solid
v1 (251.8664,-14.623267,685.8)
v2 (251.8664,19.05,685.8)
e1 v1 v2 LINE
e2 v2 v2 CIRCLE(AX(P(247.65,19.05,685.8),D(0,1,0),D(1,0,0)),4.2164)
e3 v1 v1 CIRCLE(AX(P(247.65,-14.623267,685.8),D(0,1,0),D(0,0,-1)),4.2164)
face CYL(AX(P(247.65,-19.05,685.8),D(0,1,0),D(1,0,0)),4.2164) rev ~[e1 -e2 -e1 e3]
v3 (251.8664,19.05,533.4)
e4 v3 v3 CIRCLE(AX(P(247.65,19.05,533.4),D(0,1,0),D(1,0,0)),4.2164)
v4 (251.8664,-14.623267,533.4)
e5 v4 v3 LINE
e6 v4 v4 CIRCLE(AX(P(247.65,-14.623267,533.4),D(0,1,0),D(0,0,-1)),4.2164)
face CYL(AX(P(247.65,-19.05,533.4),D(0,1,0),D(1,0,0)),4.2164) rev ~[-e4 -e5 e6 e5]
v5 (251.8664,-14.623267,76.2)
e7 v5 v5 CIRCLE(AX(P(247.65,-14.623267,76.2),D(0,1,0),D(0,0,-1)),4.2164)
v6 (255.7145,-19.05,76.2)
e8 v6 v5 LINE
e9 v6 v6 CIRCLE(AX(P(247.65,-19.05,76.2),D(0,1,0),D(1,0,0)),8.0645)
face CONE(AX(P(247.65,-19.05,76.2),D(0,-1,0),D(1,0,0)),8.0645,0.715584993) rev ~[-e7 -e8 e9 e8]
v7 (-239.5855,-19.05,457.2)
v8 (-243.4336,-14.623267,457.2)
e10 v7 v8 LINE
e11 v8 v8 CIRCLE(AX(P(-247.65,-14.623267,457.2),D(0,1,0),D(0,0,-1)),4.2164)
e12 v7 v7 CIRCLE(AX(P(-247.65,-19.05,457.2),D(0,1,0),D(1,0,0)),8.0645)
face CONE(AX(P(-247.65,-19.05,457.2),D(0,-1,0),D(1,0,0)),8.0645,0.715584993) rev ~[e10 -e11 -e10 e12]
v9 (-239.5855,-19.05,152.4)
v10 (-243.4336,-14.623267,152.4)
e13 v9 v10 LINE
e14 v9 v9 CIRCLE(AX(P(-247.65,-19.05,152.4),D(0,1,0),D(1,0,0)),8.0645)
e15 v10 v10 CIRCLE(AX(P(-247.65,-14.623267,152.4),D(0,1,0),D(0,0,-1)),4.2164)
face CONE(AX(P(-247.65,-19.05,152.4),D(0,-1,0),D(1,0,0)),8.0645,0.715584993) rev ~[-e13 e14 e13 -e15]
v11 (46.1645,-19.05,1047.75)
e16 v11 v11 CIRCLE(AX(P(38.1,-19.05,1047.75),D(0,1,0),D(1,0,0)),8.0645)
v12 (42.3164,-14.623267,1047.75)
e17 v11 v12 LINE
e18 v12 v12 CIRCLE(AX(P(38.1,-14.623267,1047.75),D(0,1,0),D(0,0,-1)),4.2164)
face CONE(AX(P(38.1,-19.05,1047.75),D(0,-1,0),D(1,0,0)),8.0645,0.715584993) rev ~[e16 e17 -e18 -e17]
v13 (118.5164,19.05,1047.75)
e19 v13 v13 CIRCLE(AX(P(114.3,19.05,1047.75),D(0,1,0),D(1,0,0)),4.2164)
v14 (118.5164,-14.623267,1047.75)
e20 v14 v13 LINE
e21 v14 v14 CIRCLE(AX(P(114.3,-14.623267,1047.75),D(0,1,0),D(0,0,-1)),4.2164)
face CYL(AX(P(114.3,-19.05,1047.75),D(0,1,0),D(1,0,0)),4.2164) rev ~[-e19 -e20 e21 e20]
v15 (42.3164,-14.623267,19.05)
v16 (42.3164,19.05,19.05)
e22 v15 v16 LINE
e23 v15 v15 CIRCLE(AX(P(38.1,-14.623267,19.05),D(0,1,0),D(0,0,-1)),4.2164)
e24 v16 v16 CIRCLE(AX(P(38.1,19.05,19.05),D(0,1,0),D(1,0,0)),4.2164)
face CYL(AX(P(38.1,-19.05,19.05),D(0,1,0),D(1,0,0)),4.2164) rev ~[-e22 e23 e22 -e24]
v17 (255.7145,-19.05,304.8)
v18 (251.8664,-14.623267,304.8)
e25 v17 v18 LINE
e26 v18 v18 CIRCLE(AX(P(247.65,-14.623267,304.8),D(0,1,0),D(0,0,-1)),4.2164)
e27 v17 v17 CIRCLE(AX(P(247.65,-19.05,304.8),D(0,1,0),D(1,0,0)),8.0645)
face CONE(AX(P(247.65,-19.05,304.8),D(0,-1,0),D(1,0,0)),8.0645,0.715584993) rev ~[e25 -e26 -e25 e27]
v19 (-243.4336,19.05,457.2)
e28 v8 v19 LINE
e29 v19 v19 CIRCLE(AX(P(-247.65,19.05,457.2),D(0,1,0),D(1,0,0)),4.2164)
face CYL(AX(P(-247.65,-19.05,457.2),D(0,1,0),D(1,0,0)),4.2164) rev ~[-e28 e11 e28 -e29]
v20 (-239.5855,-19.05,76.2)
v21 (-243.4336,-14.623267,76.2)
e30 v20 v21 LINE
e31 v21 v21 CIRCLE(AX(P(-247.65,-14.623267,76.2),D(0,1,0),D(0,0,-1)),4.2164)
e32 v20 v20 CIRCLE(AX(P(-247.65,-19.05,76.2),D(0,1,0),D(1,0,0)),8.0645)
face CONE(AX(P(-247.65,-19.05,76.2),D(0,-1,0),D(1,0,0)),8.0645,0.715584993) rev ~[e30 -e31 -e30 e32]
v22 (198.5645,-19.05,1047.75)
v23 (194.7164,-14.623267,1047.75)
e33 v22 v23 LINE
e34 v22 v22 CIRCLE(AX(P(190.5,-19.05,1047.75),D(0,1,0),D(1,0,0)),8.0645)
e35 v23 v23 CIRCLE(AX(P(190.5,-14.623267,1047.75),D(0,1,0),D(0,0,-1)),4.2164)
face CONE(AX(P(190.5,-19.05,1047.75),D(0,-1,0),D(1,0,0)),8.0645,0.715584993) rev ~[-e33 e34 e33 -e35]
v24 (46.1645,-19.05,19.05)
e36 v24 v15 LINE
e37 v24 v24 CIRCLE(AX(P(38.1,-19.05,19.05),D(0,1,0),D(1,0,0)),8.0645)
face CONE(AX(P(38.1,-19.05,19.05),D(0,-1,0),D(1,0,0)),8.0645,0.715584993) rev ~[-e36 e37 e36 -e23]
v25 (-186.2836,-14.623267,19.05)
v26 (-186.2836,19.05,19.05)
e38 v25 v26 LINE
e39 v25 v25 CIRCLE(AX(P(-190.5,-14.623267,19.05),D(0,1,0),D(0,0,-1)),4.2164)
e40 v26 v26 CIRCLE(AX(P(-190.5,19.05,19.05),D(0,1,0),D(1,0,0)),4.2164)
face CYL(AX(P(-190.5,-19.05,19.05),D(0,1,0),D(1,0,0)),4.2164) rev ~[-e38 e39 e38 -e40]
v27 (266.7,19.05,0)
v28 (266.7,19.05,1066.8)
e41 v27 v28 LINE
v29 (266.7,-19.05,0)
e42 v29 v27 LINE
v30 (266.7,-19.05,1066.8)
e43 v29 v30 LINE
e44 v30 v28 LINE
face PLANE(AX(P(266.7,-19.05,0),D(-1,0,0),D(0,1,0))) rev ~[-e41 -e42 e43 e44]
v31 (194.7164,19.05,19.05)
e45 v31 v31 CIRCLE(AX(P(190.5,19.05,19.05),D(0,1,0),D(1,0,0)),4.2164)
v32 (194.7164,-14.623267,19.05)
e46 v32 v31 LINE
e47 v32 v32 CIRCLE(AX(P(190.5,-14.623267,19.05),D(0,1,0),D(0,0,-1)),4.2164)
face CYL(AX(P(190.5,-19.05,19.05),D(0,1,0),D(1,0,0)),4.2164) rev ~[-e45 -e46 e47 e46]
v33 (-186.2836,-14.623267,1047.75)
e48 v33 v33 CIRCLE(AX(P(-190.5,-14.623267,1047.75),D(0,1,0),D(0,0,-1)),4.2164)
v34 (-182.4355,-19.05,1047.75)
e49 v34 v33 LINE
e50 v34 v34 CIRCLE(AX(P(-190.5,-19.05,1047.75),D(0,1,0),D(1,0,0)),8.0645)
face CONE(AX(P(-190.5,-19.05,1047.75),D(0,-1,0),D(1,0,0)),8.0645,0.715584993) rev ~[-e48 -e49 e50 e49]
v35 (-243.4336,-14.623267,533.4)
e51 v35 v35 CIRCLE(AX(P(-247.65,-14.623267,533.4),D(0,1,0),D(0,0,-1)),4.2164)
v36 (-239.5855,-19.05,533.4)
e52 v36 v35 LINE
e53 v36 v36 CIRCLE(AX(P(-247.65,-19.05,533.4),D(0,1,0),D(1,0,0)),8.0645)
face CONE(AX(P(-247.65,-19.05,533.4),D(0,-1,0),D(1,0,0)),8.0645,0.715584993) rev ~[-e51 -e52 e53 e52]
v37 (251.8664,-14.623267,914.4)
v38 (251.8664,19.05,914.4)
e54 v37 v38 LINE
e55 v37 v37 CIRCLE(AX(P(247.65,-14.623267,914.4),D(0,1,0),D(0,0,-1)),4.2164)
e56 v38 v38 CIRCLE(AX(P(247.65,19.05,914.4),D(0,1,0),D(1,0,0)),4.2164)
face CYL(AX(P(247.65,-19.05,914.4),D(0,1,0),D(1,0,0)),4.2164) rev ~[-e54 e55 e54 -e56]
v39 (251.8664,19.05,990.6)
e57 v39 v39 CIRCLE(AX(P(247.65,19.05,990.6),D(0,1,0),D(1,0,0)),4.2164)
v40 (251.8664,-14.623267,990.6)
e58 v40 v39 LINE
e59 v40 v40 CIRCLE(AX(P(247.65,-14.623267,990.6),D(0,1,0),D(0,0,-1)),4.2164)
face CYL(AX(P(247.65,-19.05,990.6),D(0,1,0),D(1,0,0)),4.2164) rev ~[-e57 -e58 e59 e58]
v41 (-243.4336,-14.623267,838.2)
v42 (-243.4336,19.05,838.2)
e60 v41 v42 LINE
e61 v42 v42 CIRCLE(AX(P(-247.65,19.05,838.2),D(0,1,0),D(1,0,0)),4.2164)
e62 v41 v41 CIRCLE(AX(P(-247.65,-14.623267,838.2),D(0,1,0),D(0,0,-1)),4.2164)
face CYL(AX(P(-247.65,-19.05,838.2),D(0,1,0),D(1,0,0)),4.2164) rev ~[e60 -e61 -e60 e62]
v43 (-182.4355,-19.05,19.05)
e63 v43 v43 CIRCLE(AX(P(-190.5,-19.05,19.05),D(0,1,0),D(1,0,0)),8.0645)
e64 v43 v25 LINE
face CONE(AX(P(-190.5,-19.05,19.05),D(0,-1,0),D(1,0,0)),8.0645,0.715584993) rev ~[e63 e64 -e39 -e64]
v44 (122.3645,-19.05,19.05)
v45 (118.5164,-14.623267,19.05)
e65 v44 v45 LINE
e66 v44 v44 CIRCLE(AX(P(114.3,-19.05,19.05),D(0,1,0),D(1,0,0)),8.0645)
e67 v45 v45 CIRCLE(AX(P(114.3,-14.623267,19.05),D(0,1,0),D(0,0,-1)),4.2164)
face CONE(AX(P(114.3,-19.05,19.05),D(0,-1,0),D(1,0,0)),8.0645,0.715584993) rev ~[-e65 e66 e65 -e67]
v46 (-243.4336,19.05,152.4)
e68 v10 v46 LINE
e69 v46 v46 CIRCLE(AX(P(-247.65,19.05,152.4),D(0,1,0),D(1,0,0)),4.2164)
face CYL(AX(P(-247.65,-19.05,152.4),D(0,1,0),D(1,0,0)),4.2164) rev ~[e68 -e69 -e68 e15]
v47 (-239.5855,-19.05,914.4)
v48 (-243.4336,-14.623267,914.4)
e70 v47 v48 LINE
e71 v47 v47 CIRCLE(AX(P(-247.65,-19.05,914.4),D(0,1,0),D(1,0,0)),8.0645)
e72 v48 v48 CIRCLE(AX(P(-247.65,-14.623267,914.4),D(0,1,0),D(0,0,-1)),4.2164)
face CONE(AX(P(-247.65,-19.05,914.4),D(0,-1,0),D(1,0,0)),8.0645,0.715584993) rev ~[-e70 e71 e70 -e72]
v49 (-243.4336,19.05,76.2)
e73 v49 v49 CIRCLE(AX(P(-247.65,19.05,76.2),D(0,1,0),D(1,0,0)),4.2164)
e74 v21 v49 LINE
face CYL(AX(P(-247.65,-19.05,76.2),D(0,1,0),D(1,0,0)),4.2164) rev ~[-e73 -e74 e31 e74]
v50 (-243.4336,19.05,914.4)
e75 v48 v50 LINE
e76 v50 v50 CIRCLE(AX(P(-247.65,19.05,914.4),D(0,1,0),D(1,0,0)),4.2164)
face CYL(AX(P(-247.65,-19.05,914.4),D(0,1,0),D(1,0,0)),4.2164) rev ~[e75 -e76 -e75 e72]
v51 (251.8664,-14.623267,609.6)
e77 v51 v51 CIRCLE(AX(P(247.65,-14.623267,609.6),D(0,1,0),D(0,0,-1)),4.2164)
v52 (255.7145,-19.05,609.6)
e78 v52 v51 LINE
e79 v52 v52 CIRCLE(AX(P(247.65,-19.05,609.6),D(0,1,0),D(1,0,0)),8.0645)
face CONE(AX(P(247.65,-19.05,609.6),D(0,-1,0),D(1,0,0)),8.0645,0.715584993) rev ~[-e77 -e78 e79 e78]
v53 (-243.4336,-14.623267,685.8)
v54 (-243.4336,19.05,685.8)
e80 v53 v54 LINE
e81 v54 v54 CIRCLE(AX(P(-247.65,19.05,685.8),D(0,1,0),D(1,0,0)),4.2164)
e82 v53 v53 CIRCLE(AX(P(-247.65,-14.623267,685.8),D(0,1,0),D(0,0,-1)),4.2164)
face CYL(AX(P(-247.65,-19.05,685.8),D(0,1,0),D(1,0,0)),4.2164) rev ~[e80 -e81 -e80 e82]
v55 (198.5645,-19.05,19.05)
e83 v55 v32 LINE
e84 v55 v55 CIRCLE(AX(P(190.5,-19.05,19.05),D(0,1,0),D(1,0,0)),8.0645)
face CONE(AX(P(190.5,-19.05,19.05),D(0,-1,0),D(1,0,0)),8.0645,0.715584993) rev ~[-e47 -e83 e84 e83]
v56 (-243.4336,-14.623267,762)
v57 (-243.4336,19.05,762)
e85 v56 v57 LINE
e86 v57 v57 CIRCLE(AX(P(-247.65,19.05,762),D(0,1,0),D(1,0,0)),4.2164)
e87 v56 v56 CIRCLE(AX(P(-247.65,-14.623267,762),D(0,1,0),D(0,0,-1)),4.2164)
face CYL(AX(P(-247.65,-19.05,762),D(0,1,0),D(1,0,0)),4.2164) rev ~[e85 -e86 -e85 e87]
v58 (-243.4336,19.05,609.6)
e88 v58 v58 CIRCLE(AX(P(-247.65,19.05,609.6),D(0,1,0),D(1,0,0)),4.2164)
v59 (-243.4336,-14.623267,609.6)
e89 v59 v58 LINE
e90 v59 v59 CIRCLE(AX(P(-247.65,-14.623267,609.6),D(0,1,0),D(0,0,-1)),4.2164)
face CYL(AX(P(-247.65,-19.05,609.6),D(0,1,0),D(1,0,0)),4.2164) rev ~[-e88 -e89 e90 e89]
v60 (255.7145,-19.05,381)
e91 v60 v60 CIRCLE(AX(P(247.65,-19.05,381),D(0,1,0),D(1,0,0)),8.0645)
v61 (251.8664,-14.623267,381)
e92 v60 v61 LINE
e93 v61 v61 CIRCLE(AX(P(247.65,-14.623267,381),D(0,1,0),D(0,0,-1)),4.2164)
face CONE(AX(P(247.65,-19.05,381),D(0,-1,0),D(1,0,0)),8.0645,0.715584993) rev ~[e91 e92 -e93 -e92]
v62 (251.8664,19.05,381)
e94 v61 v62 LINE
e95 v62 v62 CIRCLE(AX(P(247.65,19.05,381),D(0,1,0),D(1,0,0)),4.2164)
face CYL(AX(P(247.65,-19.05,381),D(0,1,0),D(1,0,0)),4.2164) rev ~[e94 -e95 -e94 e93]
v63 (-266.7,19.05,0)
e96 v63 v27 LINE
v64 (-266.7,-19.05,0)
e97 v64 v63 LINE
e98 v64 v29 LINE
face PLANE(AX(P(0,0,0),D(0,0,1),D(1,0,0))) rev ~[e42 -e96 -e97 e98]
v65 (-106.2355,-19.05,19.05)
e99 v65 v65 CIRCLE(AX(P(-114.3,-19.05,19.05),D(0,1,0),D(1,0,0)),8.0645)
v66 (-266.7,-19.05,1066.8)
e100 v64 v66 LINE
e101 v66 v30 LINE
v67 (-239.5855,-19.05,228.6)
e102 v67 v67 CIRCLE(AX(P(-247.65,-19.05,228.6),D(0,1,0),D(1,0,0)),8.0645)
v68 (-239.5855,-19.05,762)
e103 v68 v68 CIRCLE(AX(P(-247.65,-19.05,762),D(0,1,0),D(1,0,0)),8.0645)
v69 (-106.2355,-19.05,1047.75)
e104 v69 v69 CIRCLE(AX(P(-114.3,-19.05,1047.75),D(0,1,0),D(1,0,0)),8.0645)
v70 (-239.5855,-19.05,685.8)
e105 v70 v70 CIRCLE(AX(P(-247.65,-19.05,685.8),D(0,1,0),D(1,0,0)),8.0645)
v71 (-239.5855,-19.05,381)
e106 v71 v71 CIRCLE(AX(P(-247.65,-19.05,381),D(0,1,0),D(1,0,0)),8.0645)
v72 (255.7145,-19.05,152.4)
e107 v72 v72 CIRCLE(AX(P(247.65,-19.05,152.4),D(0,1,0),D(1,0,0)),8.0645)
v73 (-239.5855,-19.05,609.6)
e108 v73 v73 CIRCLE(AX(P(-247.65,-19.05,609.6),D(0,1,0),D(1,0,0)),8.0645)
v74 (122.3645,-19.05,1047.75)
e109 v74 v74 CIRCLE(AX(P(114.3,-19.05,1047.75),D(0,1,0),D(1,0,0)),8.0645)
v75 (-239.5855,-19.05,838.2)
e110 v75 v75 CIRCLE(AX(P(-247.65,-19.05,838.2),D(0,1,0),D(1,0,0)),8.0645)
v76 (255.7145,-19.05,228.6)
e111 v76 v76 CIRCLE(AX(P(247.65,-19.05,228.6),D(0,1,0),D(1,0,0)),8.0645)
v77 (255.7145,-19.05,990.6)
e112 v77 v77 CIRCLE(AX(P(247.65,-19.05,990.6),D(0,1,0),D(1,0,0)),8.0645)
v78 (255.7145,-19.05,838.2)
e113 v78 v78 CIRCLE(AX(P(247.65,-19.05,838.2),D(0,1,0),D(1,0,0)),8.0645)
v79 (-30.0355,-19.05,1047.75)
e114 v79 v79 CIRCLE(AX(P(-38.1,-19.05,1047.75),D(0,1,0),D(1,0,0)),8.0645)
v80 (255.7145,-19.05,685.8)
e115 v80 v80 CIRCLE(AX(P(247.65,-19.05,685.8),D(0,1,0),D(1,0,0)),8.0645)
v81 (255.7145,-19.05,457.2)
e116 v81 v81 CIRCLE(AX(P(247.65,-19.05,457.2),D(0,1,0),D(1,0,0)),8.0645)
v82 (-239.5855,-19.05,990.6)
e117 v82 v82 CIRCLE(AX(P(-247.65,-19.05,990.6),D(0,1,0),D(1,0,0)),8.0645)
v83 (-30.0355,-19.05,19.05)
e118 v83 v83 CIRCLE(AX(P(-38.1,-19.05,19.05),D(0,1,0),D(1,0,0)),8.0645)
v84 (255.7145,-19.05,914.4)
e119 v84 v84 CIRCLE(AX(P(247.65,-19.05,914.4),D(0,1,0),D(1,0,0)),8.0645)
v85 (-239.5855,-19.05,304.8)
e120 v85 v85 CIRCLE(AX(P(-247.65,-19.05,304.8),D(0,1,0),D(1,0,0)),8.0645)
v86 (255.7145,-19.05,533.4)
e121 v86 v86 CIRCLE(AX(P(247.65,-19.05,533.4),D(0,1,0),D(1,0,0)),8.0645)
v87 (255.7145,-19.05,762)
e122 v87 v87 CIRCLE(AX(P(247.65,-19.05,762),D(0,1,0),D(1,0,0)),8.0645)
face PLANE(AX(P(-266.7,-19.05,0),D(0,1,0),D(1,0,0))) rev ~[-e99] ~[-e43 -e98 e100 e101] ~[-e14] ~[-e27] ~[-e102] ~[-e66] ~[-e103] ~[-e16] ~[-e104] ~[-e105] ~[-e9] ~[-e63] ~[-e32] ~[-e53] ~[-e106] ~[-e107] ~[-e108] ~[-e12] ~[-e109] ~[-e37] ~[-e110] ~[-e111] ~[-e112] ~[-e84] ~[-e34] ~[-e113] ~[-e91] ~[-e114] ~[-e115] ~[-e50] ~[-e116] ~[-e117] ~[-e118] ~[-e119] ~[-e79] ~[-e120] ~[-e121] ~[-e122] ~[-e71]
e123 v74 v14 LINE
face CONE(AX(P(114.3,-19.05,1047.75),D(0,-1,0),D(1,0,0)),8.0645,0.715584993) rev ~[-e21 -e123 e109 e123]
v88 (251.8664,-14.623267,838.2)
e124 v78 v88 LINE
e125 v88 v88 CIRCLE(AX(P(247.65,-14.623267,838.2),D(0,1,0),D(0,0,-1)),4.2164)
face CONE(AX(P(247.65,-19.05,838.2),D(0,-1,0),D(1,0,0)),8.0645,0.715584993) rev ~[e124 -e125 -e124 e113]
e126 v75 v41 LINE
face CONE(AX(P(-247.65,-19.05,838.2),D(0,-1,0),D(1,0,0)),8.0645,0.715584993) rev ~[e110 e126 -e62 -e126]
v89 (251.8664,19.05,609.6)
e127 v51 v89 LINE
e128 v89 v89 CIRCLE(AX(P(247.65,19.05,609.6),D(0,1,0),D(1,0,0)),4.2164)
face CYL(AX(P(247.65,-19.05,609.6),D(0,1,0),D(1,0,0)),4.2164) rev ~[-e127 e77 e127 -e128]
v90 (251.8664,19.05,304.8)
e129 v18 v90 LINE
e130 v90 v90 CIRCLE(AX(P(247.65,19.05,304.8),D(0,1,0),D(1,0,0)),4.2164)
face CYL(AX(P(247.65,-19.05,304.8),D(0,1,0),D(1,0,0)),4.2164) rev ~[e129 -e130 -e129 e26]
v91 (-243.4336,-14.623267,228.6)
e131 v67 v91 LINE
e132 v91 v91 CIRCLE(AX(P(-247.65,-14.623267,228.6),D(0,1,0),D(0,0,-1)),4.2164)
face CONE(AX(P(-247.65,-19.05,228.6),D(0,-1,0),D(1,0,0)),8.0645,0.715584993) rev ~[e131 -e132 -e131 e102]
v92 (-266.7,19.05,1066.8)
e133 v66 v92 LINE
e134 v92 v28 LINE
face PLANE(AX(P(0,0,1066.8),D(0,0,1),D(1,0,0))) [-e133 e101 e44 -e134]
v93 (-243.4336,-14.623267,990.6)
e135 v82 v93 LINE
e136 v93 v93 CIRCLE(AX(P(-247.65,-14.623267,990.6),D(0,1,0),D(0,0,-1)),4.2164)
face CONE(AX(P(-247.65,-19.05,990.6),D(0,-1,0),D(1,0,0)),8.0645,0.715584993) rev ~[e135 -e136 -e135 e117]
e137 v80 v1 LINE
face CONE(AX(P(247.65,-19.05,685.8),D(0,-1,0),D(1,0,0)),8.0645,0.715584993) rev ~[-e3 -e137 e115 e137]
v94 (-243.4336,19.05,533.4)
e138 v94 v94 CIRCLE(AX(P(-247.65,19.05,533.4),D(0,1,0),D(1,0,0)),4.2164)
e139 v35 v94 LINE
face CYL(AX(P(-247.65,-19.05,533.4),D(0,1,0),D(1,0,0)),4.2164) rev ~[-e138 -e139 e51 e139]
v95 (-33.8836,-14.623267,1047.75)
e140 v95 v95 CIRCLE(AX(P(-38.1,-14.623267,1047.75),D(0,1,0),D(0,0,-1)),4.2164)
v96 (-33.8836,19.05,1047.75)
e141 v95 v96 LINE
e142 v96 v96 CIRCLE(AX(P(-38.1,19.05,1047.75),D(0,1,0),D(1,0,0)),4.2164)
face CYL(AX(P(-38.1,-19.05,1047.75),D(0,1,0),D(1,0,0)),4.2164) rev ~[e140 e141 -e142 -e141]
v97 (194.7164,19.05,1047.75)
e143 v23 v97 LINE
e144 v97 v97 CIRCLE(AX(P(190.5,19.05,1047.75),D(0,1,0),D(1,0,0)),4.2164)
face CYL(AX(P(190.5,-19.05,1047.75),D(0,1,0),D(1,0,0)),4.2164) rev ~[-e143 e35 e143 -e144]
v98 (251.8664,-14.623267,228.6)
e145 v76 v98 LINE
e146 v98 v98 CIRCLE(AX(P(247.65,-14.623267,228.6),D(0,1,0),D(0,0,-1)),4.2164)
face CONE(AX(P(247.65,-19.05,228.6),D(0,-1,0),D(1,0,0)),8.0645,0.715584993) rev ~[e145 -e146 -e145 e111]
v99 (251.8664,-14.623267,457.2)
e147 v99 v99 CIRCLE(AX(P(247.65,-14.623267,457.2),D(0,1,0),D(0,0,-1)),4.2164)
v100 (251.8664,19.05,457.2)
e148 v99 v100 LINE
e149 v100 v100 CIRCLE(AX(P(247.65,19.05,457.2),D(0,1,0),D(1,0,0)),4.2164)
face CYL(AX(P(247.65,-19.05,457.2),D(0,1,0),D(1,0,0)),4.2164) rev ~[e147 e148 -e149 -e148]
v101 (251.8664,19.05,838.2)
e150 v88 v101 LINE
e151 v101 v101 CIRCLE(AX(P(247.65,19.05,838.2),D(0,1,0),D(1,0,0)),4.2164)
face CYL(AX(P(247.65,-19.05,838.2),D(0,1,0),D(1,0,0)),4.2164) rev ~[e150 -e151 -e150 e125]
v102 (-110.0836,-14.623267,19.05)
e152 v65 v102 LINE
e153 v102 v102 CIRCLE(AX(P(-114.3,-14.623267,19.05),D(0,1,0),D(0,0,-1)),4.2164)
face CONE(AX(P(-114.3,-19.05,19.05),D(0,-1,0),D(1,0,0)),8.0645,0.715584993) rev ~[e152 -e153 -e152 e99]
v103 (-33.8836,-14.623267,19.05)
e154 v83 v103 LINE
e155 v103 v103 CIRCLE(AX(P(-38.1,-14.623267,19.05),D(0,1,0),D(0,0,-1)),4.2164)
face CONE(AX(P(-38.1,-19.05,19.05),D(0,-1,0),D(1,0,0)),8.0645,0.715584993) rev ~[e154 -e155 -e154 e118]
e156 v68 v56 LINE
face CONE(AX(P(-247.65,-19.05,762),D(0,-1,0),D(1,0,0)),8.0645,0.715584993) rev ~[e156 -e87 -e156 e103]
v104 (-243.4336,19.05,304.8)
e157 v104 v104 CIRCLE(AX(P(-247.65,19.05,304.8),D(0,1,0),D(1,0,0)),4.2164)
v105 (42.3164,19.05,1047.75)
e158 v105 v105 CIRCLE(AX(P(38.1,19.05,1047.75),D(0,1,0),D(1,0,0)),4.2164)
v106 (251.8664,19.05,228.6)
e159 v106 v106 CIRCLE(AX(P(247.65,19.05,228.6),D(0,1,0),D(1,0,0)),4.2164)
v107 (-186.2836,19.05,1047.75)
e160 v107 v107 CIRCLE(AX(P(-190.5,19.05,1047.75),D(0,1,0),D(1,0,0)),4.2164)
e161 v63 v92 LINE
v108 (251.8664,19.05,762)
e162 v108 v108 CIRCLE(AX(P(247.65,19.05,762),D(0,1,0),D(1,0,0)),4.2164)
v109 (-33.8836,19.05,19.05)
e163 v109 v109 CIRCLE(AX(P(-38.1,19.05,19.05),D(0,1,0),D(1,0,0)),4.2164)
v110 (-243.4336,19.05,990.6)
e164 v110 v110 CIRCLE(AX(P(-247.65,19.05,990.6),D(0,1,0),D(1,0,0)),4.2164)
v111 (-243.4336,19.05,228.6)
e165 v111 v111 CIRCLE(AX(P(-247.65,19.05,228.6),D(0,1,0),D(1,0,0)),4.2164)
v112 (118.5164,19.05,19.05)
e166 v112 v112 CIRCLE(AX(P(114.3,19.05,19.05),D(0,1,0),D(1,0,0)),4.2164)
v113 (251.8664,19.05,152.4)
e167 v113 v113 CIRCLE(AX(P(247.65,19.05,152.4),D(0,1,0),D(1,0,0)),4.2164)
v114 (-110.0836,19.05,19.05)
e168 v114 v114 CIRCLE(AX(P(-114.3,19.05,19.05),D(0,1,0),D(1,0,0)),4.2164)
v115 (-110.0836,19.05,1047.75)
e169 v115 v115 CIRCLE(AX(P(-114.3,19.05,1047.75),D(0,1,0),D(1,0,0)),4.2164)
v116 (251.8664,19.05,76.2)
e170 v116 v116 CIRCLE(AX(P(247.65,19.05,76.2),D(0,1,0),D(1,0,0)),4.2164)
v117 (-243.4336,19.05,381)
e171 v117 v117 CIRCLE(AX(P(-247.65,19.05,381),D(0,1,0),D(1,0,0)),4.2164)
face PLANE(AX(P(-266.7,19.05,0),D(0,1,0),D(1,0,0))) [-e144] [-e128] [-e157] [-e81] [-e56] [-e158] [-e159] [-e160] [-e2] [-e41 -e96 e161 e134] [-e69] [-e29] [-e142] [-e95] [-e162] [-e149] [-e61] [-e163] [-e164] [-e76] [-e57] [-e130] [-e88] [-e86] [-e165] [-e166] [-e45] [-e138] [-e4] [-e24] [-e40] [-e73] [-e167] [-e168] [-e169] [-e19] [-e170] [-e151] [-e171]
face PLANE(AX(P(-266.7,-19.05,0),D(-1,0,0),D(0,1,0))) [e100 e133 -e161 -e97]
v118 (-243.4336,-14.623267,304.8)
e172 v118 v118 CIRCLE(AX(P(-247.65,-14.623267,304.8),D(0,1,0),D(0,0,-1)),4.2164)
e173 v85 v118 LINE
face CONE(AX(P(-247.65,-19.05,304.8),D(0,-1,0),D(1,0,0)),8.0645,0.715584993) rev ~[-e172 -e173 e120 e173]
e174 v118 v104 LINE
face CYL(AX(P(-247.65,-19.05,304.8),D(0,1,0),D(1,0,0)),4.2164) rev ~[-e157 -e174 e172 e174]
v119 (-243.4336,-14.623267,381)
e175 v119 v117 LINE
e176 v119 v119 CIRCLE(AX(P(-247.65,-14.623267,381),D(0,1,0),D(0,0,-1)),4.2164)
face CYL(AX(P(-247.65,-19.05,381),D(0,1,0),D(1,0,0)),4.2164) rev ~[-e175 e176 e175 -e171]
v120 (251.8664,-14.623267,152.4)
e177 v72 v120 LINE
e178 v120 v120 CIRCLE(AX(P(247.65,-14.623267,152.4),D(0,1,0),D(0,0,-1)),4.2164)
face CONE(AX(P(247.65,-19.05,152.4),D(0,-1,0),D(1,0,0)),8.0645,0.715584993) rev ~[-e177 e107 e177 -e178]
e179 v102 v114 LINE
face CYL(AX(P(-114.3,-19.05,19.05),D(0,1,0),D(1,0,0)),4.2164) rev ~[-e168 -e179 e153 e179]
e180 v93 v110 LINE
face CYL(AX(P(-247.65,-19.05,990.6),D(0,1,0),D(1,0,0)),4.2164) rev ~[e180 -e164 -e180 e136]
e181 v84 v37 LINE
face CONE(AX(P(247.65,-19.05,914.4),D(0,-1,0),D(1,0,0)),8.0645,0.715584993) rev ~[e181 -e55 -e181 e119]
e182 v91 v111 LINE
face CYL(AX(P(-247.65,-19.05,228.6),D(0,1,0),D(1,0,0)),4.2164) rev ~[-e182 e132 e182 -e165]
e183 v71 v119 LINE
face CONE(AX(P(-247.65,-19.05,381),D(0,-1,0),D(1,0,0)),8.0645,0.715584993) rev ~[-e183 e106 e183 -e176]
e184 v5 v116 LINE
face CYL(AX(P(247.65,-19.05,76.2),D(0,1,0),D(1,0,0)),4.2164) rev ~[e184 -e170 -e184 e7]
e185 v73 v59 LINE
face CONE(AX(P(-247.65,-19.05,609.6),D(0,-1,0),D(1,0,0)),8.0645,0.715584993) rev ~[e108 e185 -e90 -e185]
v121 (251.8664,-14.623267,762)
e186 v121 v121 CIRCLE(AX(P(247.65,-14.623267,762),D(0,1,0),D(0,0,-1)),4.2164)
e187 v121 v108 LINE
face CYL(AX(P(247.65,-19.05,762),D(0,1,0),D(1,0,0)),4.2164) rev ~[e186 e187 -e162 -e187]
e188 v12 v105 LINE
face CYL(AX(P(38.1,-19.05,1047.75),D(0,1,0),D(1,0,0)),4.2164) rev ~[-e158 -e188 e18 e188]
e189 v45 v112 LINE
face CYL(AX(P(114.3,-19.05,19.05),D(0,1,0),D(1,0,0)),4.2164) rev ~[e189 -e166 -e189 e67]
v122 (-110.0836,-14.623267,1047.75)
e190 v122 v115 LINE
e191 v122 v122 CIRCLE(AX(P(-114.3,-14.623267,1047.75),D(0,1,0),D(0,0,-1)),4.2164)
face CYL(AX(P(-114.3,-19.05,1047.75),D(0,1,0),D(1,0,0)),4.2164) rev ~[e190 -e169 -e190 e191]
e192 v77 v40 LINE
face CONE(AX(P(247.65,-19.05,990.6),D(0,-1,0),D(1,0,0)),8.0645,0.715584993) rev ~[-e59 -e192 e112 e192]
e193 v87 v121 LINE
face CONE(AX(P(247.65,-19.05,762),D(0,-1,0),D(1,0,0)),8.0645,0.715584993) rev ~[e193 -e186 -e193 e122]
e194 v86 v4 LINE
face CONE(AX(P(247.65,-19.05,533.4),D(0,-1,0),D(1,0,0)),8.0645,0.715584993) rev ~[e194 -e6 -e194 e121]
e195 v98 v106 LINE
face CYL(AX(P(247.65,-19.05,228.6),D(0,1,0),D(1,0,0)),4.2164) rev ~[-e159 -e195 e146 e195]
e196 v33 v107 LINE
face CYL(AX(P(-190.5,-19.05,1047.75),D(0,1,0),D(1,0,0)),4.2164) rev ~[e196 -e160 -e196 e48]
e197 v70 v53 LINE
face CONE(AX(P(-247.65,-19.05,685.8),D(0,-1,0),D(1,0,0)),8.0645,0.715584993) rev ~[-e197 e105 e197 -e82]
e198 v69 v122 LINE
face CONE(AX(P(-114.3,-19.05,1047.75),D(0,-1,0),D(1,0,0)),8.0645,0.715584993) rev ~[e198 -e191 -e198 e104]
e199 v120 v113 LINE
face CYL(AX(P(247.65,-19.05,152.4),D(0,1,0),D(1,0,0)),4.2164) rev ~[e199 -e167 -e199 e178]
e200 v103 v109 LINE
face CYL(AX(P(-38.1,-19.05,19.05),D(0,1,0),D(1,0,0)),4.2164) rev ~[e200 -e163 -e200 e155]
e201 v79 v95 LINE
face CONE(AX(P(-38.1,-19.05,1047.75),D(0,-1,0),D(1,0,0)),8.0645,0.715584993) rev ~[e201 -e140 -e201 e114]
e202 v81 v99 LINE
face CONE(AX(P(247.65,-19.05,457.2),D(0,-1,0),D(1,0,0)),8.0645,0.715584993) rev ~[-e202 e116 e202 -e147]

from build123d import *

# Parameters (mm, degrees)
SKETCH1_W                                         = 533.4
SKETCH1_H                                         = 38.1
BOSS_EXTRUDE1_DEPTH                               = 1066.8
CSK_FOR_5_16_FLAT_HEAD_MACHINE_SCREW1_D           = 8.4328
CSK_FOR_5_16_FLAT_HEAD_MACHINE_SCREW1_CSINK_D     = 16.129
CSK_FOR_5_16_FLAT_HEAD_MACHINE_SCREW1_CSINK_ANGLE = 82
CSK_FOR_5_16_FLAT_HEAD_MACHINE_SCREW2_D           = 8.4328
CSK_FOR_5_16_FLAT_HEAD_MACHINE_SCREW2_CSINK_D     = 16.129
CSK_FOR_5_16_FLAT_HEAD_MACHINE_SCREW2_CSINK_ANGLE = 82


with BuildPart() as part:
    # Sketch1 → Boss-Extrude1 (new body)
    with BuildSketch(Plane.XY):
        Rectangle(SKETCH1_W, SKETCH1_H)
    extrude(amount=BOSS_EXTRUDE1_DEPTH)

    # CSK for 5/16 Flat Head Machine Screw1 (through all)
    with Locations(Plane(origin=(0, -19.05, 0), x_dir=(-1, 0, 0), z_dir=(0, -1, 0))):
        with Locations((190.5, -1047.75), (114.3, -1047.75), (38.1, -1047.75), (-38.1, -1047.75), (-114.3, -1047.75), (-190.5, -1047.75), (114.3, -19.05), (38.1, -19.05), (-38.1, -19.05), (-114.3, -19.05), (-190.5, -19.05), (190.5, -19.05)):
            CounterSinkHole(CSK_FOR_5_16_FLAT_HEAD_MACHINE_SCREW1_D / 2, CSK_FOR_5_16_FLAT_HEAD_MACHINE_SCREW1_CSINK_D / 2, counter_sink_angle=CSK_FOR_5_16_FLAT_HEAD_MACHINE_SCREW1_CSINK_ANGLE)

    # CSK for 5/16 Flat Head Machine Screw2 (through all)
    with Locations(Plane(origin=(0, -19.05, 0), x_dir=(-1, 0, 0), z_dir=(0, -1, 0))):
        with Locations((-247.65, -76.2), (-247.65, -152.4), (-247.65, -228.6), (-247.65, -304.8), (-247.65, -381), (-247.65, -457.2), (-247.65, -533.4), (-247.65, -609.6), (-247.65, -685.8), (-247.65, -762), (247.65, -76.2), (247.65, -152.4), (247.65, -228.6), (247.65, -304.8), (247.65, -381), (247.65, -457.2), (247.65, -533.4), (247.65, -609.6), (247.65, -685.8), (247.65, -762), (-247.65, -838.2), (247.65, -838.2), (-247.65, -914.4), (247.65, -914.4), (-247.65, -990.6), (247.65, -990.6)):
            CounterSinkHole(CSK_FOR_5_16_FLAT_HEAD_MACHINE_SCREW2_D / 2, CSK_FOR_5_16_FLAT_HEAD_MACHINE_SCREW2_CSINK_D / 2, counter_sink_angle=CSK_FOR_5_16_FLAT_HEAD_MACHINE_SCREW2_CSINK_ANGLE)


solid = part.part
